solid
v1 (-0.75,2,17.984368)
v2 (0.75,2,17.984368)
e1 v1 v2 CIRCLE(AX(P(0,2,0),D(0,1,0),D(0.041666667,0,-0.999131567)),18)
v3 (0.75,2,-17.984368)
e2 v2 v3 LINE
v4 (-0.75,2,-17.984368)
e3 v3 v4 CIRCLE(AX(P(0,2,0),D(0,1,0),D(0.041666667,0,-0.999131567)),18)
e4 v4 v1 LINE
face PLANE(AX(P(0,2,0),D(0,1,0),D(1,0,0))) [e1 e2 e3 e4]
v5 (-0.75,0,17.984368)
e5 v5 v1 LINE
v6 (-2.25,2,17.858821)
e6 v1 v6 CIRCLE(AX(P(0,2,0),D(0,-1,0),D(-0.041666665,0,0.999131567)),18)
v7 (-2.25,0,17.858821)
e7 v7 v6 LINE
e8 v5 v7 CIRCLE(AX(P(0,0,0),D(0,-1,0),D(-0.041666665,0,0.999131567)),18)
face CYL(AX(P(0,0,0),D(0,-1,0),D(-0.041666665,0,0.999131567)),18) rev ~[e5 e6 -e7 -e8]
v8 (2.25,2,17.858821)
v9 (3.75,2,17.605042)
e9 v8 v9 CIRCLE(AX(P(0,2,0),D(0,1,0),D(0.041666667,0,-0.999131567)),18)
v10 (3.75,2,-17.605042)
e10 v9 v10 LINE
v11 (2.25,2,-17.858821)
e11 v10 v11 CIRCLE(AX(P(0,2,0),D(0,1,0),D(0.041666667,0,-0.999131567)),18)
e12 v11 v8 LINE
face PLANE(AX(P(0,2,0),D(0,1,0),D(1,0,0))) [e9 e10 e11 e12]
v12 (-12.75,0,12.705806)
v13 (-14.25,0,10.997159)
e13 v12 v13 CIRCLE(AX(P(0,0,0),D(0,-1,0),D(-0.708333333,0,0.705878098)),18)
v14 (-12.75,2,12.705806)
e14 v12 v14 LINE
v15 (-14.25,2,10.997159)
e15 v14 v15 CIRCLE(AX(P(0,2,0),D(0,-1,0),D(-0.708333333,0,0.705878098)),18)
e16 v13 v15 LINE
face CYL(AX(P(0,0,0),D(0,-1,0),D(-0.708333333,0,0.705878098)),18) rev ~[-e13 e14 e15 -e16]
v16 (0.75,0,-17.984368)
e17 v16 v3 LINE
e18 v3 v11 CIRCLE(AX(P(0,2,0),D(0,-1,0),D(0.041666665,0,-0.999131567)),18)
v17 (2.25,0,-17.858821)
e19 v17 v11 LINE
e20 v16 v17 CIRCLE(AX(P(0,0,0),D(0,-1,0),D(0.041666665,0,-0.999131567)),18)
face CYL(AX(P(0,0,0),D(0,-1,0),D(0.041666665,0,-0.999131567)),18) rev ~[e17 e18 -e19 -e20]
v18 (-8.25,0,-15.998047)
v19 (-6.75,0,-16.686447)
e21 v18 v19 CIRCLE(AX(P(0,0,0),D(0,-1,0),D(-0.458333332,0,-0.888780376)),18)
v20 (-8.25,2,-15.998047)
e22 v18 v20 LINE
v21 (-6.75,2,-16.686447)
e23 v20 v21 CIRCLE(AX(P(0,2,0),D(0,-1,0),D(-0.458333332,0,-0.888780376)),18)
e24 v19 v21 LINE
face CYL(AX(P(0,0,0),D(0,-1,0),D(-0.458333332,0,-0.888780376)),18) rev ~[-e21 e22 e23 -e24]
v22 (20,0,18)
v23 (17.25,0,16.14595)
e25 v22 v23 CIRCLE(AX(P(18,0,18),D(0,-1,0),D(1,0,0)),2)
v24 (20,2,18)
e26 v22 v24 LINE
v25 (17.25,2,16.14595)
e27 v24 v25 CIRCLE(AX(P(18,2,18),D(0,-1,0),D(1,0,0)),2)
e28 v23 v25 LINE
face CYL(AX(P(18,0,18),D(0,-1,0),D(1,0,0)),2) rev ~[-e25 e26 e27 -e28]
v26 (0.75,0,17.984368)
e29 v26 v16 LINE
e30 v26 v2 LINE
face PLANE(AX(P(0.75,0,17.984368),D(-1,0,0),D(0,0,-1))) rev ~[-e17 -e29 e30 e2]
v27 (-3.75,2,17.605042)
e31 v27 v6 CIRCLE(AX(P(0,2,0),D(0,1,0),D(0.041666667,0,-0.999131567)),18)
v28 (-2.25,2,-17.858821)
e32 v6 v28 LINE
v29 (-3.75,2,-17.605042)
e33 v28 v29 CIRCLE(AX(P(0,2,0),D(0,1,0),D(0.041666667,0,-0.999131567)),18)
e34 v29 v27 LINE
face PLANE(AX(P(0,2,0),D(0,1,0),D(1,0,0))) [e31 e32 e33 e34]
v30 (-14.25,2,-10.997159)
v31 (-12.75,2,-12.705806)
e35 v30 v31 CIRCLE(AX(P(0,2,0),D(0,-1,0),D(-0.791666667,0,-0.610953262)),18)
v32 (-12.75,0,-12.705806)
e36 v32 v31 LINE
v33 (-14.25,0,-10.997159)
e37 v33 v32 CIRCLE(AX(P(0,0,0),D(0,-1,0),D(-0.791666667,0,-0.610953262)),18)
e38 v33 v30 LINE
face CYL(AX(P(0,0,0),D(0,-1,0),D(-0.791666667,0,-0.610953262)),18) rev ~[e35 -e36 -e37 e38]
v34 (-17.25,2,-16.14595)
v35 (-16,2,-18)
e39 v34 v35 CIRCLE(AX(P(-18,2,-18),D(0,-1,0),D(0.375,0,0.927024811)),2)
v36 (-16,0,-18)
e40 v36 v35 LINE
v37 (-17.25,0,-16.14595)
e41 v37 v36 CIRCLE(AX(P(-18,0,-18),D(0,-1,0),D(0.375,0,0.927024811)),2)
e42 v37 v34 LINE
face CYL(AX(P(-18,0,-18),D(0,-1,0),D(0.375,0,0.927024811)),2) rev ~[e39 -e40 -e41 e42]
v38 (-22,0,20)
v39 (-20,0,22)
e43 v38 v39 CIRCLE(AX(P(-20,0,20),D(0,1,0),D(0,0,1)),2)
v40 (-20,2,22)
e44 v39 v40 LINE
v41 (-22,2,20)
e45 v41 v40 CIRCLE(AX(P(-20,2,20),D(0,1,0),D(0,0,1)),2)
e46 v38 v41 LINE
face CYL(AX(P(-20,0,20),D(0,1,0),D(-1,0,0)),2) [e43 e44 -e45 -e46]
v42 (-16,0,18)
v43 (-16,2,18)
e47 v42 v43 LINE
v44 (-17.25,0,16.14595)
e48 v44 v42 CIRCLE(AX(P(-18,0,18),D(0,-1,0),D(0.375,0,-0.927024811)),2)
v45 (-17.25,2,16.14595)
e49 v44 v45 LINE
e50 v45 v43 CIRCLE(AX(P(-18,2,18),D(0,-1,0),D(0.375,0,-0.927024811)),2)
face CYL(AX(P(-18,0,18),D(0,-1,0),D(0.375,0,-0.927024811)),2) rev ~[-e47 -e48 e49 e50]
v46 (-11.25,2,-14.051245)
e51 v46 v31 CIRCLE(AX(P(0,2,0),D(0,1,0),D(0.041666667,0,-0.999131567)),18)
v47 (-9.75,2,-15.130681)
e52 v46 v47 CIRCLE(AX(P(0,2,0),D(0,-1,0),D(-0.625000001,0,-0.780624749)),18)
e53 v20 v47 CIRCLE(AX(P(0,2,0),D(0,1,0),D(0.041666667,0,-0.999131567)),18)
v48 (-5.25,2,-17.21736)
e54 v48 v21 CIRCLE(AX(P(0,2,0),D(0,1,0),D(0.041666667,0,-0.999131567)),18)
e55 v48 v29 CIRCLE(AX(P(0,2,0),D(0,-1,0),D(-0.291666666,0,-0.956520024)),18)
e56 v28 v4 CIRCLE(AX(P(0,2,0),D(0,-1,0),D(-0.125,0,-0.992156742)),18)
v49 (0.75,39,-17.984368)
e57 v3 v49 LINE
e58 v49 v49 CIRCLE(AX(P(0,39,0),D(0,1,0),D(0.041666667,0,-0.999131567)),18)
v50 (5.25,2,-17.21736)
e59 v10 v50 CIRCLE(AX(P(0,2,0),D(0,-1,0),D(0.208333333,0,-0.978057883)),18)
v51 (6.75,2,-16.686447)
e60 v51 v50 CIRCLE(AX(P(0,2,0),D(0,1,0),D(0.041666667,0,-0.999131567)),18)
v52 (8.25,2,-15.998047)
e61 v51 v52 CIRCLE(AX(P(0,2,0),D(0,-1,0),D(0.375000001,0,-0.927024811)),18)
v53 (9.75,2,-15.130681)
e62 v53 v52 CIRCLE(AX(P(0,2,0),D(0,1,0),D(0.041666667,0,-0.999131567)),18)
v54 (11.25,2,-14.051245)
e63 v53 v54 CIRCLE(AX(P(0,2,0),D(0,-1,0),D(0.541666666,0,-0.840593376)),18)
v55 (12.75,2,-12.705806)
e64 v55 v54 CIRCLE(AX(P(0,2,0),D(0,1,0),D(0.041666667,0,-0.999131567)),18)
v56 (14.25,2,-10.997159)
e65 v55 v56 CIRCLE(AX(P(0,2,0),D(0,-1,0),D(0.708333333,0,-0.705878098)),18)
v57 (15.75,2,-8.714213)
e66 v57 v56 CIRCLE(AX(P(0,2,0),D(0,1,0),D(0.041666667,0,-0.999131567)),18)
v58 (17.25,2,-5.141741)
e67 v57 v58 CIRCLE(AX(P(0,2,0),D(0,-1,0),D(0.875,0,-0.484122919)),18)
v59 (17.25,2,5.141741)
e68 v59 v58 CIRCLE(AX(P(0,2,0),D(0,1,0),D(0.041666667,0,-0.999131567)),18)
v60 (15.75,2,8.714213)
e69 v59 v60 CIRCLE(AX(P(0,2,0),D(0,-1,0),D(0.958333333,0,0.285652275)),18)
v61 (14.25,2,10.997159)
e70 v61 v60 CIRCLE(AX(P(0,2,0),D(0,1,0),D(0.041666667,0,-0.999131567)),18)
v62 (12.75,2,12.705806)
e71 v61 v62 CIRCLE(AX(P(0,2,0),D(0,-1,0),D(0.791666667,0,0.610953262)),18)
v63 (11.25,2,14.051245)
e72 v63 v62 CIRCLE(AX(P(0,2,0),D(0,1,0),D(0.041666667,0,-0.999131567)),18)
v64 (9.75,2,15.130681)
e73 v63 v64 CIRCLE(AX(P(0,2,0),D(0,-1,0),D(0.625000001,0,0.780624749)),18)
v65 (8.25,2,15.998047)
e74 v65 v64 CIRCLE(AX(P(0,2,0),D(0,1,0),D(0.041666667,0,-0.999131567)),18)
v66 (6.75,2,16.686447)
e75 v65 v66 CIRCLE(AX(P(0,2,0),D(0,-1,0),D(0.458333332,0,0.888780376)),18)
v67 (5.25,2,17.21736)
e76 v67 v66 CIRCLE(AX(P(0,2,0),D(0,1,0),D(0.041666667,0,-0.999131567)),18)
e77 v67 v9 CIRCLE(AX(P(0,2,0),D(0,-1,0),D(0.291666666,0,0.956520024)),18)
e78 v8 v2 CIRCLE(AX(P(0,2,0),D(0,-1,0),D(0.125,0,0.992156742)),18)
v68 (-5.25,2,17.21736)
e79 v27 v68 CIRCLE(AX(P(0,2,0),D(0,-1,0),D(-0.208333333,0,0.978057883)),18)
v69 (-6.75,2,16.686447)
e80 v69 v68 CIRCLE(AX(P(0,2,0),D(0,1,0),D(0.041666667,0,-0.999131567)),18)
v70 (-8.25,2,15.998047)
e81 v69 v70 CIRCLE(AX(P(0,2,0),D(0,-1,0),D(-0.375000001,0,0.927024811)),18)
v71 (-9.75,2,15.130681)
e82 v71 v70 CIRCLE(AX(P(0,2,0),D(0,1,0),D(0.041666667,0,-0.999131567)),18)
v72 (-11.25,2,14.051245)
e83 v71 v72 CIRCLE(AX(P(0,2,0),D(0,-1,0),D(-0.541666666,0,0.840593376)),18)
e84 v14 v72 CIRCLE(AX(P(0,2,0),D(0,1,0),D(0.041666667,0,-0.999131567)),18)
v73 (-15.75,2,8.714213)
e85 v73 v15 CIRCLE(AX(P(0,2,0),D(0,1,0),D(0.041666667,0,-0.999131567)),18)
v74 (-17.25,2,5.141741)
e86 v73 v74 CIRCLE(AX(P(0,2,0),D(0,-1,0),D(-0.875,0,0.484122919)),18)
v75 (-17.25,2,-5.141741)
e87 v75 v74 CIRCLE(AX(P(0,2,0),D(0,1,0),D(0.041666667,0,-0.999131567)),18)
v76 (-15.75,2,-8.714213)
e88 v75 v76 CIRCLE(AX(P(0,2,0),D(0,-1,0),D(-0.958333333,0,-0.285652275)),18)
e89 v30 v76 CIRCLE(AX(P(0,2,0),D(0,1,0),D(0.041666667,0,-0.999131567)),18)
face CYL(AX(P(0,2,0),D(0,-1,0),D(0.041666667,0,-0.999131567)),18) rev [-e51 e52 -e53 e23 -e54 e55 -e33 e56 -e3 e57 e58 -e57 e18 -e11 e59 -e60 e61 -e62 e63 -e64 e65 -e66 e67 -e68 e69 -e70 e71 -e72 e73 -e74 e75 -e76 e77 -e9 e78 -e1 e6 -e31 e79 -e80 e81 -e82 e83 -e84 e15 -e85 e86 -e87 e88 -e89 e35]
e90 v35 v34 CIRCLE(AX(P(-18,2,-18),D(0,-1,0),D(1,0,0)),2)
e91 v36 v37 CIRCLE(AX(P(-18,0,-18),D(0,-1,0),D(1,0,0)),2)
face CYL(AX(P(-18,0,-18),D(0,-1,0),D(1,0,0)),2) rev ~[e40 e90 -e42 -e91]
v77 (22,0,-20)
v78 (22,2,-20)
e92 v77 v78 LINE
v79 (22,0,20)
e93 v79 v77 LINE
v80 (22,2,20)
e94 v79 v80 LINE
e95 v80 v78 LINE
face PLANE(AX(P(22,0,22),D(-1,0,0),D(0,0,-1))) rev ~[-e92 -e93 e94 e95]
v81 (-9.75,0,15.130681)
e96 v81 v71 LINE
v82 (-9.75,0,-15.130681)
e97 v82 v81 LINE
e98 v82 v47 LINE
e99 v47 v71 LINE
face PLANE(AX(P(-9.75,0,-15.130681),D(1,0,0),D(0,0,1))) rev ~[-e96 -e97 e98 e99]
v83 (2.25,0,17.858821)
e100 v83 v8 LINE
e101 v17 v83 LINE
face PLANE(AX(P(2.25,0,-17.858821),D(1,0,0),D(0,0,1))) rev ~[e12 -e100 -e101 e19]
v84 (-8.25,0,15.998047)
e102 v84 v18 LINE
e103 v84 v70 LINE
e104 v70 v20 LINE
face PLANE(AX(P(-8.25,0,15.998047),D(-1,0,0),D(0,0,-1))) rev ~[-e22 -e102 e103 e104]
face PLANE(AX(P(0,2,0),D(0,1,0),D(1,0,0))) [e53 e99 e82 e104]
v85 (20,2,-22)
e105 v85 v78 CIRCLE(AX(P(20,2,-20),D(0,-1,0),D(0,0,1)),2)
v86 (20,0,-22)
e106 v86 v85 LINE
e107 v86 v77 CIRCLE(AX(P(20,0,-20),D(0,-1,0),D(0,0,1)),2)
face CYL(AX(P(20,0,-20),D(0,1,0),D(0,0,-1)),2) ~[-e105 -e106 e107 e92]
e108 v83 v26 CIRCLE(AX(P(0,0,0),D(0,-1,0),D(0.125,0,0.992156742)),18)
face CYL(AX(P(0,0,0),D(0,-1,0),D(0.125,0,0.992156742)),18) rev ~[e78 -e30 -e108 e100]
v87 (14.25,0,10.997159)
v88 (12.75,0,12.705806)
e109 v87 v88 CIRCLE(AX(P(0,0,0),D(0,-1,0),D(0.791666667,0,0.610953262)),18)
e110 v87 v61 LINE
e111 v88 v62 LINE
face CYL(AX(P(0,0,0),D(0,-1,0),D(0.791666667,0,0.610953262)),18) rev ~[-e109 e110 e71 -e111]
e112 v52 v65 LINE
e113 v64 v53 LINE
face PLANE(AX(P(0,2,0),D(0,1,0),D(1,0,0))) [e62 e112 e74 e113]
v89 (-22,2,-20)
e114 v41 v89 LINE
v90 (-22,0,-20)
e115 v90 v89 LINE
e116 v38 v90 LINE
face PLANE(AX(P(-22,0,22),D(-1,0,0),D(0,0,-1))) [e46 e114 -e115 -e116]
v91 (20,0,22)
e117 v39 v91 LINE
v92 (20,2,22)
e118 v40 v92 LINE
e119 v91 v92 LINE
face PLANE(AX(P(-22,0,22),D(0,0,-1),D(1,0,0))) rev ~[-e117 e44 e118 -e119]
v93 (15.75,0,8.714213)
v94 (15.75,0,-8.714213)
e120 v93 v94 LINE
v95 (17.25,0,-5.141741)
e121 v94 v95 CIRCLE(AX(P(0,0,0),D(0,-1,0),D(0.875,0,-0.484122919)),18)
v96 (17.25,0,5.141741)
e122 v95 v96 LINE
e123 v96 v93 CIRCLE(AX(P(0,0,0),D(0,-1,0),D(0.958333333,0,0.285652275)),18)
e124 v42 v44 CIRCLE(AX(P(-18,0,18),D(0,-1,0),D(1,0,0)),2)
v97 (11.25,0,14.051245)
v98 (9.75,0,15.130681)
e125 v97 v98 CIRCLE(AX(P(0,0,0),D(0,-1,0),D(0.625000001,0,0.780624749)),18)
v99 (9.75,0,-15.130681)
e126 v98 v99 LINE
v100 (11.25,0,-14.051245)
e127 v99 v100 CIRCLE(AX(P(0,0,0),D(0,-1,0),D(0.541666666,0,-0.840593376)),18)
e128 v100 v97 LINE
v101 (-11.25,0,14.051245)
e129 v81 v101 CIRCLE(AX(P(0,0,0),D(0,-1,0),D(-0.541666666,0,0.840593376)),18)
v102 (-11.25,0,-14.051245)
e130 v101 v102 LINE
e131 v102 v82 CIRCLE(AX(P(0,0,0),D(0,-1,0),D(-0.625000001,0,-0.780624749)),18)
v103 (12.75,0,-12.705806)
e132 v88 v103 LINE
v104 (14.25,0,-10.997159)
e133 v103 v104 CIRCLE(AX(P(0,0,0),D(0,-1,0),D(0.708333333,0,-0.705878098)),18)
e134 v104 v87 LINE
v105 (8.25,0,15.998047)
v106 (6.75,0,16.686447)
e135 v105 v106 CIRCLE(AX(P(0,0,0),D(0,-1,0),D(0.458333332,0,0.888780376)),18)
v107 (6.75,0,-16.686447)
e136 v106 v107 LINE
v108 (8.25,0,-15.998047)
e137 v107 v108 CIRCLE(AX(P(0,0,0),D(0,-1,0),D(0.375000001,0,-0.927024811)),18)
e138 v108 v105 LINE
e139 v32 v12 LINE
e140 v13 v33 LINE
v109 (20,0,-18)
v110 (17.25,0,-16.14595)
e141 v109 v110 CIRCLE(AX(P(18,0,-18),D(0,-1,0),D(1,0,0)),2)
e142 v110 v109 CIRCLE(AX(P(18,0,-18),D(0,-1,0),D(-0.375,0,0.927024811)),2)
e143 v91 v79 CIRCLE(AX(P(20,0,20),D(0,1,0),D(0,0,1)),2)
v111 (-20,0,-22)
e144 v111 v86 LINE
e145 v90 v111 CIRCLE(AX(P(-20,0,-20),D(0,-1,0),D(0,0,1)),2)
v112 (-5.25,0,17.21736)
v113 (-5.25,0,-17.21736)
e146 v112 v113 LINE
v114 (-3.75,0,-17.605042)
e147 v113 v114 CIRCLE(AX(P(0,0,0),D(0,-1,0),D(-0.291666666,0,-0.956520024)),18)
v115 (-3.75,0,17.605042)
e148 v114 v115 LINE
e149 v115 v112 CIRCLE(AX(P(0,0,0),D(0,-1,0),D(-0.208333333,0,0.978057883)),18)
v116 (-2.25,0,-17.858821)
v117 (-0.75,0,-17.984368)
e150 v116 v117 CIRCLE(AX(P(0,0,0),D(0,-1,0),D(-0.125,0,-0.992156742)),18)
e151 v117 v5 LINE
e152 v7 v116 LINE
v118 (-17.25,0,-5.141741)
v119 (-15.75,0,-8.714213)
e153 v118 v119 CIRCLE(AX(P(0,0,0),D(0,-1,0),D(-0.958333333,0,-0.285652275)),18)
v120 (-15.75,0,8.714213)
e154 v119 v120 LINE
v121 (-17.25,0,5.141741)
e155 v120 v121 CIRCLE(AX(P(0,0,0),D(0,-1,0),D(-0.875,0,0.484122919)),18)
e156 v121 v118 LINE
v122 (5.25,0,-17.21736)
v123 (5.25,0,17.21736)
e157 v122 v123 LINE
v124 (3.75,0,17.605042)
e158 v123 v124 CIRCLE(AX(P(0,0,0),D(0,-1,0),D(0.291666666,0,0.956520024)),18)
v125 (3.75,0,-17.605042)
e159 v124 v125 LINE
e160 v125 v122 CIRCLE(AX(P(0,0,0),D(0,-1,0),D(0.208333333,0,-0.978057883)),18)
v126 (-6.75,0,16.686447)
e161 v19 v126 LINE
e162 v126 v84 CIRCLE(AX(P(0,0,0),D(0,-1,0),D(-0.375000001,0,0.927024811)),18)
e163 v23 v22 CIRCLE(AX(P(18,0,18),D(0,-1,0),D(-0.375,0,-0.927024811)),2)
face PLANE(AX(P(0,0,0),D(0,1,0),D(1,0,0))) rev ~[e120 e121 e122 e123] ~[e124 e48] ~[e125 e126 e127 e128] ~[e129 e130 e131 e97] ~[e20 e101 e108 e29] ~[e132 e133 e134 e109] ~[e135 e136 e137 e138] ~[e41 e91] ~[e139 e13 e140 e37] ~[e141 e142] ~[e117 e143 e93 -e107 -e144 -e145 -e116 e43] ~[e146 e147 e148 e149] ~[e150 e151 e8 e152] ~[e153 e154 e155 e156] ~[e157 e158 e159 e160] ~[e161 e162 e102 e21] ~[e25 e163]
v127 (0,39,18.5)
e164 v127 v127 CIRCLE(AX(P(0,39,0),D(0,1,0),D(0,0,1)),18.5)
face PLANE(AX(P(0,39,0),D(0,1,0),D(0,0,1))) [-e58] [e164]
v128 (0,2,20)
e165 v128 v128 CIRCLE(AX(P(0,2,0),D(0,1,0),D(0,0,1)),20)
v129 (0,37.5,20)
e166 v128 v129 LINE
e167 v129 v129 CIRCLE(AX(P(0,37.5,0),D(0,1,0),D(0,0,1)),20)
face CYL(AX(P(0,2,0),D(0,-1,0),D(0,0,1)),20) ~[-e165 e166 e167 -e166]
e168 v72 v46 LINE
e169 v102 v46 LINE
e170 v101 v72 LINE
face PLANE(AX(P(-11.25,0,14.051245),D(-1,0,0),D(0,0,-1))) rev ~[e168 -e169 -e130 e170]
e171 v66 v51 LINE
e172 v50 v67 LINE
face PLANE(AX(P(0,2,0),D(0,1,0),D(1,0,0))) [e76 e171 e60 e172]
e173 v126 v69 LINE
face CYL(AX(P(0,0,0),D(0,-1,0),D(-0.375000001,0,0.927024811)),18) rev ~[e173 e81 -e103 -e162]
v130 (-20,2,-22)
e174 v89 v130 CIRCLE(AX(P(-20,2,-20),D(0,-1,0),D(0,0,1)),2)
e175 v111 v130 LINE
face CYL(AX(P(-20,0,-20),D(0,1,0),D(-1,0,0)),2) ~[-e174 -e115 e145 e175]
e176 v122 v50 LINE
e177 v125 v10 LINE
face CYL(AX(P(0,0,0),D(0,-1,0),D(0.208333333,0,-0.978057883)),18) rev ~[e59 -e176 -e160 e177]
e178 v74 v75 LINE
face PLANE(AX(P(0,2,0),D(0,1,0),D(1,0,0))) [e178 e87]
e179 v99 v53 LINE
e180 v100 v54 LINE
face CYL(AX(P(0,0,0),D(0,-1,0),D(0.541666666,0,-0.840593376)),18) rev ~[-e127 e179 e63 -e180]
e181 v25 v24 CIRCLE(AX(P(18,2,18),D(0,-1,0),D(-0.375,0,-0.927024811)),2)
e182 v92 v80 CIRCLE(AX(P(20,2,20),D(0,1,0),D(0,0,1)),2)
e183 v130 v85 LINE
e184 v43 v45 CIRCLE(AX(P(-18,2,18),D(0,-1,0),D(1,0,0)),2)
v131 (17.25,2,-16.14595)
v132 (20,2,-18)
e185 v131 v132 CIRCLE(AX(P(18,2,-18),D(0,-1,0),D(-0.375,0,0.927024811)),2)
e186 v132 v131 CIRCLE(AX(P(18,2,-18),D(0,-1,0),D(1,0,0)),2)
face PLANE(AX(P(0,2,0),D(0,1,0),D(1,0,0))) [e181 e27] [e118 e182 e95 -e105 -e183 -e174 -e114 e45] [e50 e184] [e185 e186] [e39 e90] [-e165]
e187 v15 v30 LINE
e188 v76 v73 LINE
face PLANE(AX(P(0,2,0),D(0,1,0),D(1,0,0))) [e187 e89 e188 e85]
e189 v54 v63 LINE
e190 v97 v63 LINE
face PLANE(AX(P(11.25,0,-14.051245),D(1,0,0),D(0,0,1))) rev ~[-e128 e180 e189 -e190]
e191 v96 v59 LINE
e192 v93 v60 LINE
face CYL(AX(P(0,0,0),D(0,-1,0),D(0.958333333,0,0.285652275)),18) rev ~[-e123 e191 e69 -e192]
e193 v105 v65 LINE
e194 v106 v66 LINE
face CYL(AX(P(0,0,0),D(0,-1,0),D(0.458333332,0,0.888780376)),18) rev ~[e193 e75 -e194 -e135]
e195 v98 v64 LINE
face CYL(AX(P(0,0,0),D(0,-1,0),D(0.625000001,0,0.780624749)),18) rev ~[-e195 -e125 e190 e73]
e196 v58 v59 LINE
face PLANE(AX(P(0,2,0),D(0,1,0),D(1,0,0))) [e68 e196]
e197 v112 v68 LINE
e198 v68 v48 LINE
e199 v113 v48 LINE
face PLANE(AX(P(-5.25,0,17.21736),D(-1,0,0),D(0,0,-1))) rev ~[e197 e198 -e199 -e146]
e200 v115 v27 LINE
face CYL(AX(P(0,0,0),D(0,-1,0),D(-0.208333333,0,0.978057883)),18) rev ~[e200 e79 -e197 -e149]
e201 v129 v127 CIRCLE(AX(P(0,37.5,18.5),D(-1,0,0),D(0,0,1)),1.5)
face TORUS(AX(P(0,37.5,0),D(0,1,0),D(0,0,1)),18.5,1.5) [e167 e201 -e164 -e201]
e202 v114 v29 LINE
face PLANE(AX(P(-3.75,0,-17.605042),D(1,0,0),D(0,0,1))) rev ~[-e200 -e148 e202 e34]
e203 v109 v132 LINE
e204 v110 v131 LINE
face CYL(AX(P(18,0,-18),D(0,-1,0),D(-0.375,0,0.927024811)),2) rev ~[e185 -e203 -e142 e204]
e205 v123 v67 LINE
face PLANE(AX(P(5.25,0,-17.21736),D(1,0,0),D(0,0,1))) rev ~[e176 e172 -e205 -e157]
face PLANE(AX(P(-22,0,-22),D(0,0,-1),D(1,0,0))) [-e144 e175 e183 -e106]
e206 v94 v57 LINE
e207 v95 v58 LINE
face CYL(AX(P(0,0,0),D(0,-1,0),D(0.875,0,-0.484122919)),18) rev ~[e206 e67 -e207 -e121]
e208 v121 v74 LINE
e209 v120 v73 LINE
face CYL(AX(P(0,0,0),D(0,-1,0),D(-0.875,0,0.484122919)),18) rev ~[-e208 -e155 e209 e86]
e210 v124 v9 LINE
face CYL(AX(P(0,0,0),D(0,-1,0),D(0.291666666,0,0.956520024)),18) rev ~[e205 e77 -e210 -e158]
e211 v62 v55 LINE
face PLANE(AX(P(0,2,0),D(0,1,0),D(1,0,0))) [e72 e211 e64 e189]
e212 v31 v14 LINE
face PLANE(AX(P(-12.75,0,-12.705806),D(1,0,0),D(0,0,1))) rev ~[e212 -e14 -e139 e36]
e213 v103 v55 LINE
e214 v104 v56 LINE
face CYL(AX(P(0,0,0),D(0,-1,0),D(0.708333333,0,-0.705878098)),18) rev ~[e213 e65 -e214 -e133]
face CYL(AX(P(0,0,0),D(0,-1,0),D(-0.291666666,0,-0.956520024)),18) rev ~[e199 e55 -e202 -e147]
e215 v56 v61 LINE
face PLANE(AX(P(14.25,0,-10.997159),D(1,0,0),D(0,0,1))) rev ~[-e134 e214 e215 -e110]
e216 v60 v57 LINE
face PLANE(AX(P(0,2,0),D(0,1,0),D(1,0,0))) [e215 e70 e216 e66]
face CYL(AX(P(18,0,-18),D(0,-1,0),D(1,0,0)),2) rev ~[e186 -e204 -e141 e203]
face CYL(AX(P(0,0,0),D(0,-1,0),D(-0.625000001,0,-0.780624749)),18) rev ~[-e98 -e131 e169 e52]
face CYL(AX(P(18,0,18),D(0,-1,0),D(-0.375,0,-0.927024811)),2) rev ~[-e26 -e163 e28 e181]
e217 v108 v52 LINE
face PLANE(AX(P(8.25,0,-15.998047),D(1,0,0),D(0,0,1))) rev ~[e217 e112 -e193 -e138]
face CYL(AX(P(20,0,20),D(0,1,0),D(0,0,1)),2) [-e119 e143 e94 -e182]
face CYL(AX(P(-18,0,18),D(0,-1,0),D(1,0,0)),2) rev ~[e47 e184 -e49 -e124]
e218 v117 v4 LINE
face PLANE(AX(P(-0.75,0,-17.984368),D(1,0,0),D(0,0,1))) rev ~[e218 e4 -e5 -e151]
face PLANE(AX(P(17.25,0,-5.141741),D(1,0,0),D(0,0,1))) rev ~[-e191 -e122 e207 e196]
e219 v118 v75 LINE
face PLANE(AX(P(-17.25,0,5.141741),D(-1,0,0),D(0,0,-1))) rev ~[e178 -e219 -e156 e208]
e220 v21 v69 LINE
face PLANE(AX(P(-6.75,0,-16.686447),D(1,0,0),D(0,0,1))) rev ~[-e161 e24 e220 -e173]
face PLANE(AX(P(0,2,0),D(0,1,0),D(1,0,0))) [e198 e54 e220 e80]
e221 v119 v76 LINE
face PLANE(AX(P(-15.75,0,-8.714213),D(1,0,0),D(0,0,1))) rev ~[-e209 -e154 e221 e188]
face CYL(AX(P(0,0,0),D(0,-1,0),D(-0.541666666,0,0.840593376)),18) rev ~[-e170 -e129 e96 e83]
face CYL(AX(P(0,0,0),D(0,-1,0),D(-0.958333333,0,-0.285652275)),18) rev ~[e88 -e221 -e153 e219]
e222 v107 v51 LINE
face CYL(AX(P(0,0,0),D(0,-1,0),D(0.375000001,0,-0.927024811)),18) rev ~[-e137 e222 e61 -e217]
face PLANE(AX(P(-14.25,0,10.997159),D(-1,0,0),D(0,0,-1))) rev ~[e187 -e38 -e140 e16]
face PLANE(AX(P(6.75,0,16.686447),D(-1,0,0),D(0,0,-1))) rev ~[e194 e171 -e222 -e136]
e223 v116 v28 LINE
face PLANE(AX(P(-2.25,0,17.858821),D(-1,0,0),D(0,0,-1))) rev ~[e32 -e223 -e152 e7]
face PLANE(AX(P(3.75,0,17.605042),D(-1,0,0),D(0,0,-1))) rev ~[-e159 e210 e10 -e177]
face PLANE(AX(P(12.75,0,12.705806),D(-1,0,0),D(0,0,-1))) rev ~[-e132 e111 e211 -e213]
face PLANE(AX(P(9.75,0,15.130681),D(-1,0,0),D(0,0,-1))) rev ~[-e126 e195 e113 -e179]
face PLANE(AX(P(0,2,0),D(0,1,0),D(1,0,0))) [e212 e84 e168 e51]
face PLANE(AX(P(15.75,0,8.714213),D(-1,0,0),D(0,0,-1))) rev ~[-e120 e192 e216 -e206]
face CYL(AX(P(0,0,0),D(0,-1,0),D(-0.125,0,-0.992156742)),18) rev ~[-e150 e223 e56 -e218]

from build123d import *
from build123d.topology import SkipClean

# Parameters (mm, degrees)
ESBO_O1_W                = 44
ESBO_O1_H                = 44
RESSALTO_EXTRUS_O1_DEPTH = 2
ESBO_O3_R                = 20
ESBO_O3_R_2              = 18
RESSALTO_EXTRUS_O3_DEPTH = 37
FILETE3_R                = 1.5
FILETE4_R                = 2


with BuildPart() as part:
    # Esboço1 → Ressalto-extrusão1 (new body)
    with BuildSketch(Plane(origin=(0, 0, 0), x_dir=(1, 0, 0), z_dir=(0, 1, 0))):
        Rectangle(ESBO_O1_W, ESBO_O1_H)
        with BuildLine():
            ThreePointArc((-16, -18), (-19.658312395, -19.118033989), (-17.25, -16.145950378))
            ThreePointArc((-17.25, -16.145950378), (-16.341687605, -16.881966011), (-16, -18))
        make_face(mode=Mode.SUBTRACT)
        with BuildLine():
            ThreePointArc((-3.75, -17.605041891), (-4.50417298, -17.427347066), (-5.25, -17.217360425))
            Line((-5.25, -17.217360425), (-5.25, 17.217360425))
            ThreePointArc((-5.25, 17.217360425), (-4.50417298, 17.427347066), (-3.75, 17.605041891))
            Line((-3.75, 17.605041891), (-3.75, -17.605041891))
        make_face(mode=Mode.SUBTRACT)
        with BuildLine():
            ThreePointArc((20, -18), (16.881966011, -19.658312395), (17.25, -16.145950378))
            ThreePointArc((17.25, -16.145950378), (19.118033989, -16.341687605), (20, -18))
        make_face(mode=Mode.SUBTRACT)
        with BuildLine():
            ThreePointArc((-15.75, -8.714212529), (-16.596404379, -6.968454757), (-17.25, -5.14174095))
            Line((-17.25, -5.14174095), (-17.25, 5.14174095))
            ThreePointArc((-17.25, 5.14174095), (-16.596404379, 6.968454757), (-15.75, 8.714212529))
            Line((-15.75, 8.714212529), (-15.75, -8.714212529))
        make_face(mode=Mode.SUBTRACT)
        with BuildLine():
            ThreePointArc((-12.75, -12.70580576), (-13.527005163, -11.875189739), (-14.25, -10.997158724))
            Line((-14.25, -10.997158724), (-14.25, 10.997158724))
            ThreePointArc((-14.25, 10.997158724), (-13.527005163, 11.875189739), (-12.75, 12.70580576))
            Line((-12.75, 12.70580576), (-12.75, -12.70580576))
        make_face(mode=Mode.SUBTRACT)
        with BuildLine():
            ThreePointArc((-9.75, -15.130680751), (-10.513862046, -14.610226038), (-11.25, -14.051245496))
            Line((-11.25, -14.051245496), (-11.25, 14.051245496))
            ThreePointArc((-11.25, 14.051245496), (-10.513862046, 14.610226038), (-9.75, 15.130680751))
            Line((-9.75, 15.130680751), (-9.75, -15.130680751))
        make_face(mode=Mode.SUBTRACT)
        with BuildLine():
            ThreePointArc((-6.75, -16.686446596), (-7.507894085, -16.359447619), (-8.25, -15.998046756))
            Line((-8.25, -15.998046756), (-8.25, 15.998046756))
            ThreePointArc((-8.25, 15.998046756), (-7.507894085, 16.359447619), (-6.75, 16.686446596))
            Line((-6.75, 16.686446596), (-6.75, -16.686446596))
        make_face(mode=Mode.SUBTRACT)
        with BuildLine():
            Line((-0.75, 17.984368212), (-0.75, -17.984368212))
            ThreePointArc((-0.75, -17.984368212), (-1.501312927, -17.937281274), (-2.25, -17.85882135))
            Line((-2.25, -17.85882135), (-2.25, 17.85882135))
            ThreePointArc((-2.25, 17.85882135), (-1.501312927, 17.937281274), (-0.75, 17.984368212))
        make_face(mode=Mode.SUBTRACT)
        with BuildLine():
            ThreePointArc((-16, 18), (-16.341687605, 16.881966011), (-17.25, 16.145950378))
            ThreePointArc((-17.25, 16.145950378), (-19.658312395, 19.118033989), (-16, 18))
        make_face(mode=Mode.SUBTRACT)
        with BuildLine():
            ThreePointArc((2.25, -17.85882135), (1.501312927, -17.937281274), (0.75, -17.984368212))
            Line((0.75, -17.984368212), (0.75, 17.984368212))
            ThreePointArc((0.75, 17.984368212), (1.501312927, 17.937281274), (2.25, 17.85882135))
            Line((2.25, 17.85882135), (2.25, -17.85882135))
        make_face(mode=Mode.SUBTRACT)
        with BuildLine():
            ThreePointArc((5.25, -17.217360425), (4.50417298, -17.427347066), (3.75, -17.605041891))
            Line((3.75, -17.605041891), (3.75, 17.605041891))
            ThreePointArc((3.75, 17.605041891), (4.50417298, 17.427347066), (5.25, 17.217360425))
            Line((5.25, 17.217360425), (5.25, -17.217360425))
        make_face(mode=Mode.SUBTRACT)
        with BuildLine():
            ThreePointArc((8.25, -15.998046756), (7.507894085, -16.359447619), (6.75, -16.686446596))
            Line((6.75, -16.686446596), (6.75, 16.686446596))
            ThreePointArc((6.75, 16.686446596), (7.507894085, 16.359447619), (8.25, 15.998046756))
            Line((8.25, 15.998046756), (8.25, -15.998046756))
        make_face(mode=Mode.SUBTRACT)
        with BuildLine():
            ThreePointArc((11.25, -14.051245496), (10.513862046, -14.610226038), (9.75, -15.130680751))
            Line((9.75, -15.130680751), (9.75, 15.130680751))
            ThreePointArc((9.75, 15.130680751), (10.513862046, 14.610226038), (11.25, 14.051245496))
            Line((11.25, 14.051245496), (11.25, -14.051245496))
        make_face(mode=Mode.SUBTRACT)
        with BuildLine():
            ThreePointArc((14.25, -10.997158724), (13.527005163, -11.875189739), (12.75, -12.70580576))
            Line((12.75, -12.70580576), (12.75, 12.70580576))
            ThreePointArc((12.75, 12.70580576), (13.527005163, 11.875189739), (14.25, 10.997158724))
            Line((14.25, 10.997158724), (14.25, -10.997158724))
        make_face(mode=Mode.SUBTRACT)
        with BuildLine():
            ThreePointArc((17.25, -5.14174095), (16.596404379, -6.968454757), (15.75, -8.714212529))
            Line((15.75, -8.714212529), (15.75, 8.714212529))
            ThreePointArc((15.75, 8.714212529), (16.596404379, 6.968454757), (17.25, 5.14174095))
            Line((17.25, 5.14174095), (17.25, -5.14174095))
        make_face(mode=Mode.SUBTRACT)
        with BuildLine():
            ThreePointArc((20, 18), (19.118033989, 16.341687605), (17.25, 16.145950378))
            ThreePointArc((17.25, 16.145950378), (16.881966011, 19.658312395), (20, 18))
        make_face(mode=Mode.SUBTRACT)
    extrude(amount=RESSALTO_EXTRUS_O1_DEPTH)

    # Esboço3 → Ressalto-extrusão3 (add)
    with SkipClean():  # the faces are left unmerged after this step: merging them gives an invalid solid
        with BuildSketch(Plane(origin=(0, 2, 0), x_dir=(1, 0, 0), z_dir=(0, 1, 0))):
            with Locations(Location((0, 0, 0), (0, 0, 270))):
                Circle(ESBO_O3_R)
            with Locations(Location((0, 0, 0), (0, 0, 87.611984537))):
                Circle(ESBO_O3_R_2, mode=Mode.SUBTRACT)
        extrude(amount=RESSALTO_EXTRUS_O3_DEPTH)

    # Filete3
    filete3_edges = [part.edges().sort_by_distance(p)[0] for p in [
        (0, 39, -20),
    ]]
    fillet(filete3_edges, radius=FILETE3_R)

    # Filete4
    filete4_edges = [part.edges().sort_by_distance(p)[0] for p in [
        (-22, 1, 22),
        (-22, 1, -22),
        (22, 1, -22),
        (22, 1, 22),
    ]]
    fillet(filete4_edges, radius=FILETE4_R)


solid = part.part
